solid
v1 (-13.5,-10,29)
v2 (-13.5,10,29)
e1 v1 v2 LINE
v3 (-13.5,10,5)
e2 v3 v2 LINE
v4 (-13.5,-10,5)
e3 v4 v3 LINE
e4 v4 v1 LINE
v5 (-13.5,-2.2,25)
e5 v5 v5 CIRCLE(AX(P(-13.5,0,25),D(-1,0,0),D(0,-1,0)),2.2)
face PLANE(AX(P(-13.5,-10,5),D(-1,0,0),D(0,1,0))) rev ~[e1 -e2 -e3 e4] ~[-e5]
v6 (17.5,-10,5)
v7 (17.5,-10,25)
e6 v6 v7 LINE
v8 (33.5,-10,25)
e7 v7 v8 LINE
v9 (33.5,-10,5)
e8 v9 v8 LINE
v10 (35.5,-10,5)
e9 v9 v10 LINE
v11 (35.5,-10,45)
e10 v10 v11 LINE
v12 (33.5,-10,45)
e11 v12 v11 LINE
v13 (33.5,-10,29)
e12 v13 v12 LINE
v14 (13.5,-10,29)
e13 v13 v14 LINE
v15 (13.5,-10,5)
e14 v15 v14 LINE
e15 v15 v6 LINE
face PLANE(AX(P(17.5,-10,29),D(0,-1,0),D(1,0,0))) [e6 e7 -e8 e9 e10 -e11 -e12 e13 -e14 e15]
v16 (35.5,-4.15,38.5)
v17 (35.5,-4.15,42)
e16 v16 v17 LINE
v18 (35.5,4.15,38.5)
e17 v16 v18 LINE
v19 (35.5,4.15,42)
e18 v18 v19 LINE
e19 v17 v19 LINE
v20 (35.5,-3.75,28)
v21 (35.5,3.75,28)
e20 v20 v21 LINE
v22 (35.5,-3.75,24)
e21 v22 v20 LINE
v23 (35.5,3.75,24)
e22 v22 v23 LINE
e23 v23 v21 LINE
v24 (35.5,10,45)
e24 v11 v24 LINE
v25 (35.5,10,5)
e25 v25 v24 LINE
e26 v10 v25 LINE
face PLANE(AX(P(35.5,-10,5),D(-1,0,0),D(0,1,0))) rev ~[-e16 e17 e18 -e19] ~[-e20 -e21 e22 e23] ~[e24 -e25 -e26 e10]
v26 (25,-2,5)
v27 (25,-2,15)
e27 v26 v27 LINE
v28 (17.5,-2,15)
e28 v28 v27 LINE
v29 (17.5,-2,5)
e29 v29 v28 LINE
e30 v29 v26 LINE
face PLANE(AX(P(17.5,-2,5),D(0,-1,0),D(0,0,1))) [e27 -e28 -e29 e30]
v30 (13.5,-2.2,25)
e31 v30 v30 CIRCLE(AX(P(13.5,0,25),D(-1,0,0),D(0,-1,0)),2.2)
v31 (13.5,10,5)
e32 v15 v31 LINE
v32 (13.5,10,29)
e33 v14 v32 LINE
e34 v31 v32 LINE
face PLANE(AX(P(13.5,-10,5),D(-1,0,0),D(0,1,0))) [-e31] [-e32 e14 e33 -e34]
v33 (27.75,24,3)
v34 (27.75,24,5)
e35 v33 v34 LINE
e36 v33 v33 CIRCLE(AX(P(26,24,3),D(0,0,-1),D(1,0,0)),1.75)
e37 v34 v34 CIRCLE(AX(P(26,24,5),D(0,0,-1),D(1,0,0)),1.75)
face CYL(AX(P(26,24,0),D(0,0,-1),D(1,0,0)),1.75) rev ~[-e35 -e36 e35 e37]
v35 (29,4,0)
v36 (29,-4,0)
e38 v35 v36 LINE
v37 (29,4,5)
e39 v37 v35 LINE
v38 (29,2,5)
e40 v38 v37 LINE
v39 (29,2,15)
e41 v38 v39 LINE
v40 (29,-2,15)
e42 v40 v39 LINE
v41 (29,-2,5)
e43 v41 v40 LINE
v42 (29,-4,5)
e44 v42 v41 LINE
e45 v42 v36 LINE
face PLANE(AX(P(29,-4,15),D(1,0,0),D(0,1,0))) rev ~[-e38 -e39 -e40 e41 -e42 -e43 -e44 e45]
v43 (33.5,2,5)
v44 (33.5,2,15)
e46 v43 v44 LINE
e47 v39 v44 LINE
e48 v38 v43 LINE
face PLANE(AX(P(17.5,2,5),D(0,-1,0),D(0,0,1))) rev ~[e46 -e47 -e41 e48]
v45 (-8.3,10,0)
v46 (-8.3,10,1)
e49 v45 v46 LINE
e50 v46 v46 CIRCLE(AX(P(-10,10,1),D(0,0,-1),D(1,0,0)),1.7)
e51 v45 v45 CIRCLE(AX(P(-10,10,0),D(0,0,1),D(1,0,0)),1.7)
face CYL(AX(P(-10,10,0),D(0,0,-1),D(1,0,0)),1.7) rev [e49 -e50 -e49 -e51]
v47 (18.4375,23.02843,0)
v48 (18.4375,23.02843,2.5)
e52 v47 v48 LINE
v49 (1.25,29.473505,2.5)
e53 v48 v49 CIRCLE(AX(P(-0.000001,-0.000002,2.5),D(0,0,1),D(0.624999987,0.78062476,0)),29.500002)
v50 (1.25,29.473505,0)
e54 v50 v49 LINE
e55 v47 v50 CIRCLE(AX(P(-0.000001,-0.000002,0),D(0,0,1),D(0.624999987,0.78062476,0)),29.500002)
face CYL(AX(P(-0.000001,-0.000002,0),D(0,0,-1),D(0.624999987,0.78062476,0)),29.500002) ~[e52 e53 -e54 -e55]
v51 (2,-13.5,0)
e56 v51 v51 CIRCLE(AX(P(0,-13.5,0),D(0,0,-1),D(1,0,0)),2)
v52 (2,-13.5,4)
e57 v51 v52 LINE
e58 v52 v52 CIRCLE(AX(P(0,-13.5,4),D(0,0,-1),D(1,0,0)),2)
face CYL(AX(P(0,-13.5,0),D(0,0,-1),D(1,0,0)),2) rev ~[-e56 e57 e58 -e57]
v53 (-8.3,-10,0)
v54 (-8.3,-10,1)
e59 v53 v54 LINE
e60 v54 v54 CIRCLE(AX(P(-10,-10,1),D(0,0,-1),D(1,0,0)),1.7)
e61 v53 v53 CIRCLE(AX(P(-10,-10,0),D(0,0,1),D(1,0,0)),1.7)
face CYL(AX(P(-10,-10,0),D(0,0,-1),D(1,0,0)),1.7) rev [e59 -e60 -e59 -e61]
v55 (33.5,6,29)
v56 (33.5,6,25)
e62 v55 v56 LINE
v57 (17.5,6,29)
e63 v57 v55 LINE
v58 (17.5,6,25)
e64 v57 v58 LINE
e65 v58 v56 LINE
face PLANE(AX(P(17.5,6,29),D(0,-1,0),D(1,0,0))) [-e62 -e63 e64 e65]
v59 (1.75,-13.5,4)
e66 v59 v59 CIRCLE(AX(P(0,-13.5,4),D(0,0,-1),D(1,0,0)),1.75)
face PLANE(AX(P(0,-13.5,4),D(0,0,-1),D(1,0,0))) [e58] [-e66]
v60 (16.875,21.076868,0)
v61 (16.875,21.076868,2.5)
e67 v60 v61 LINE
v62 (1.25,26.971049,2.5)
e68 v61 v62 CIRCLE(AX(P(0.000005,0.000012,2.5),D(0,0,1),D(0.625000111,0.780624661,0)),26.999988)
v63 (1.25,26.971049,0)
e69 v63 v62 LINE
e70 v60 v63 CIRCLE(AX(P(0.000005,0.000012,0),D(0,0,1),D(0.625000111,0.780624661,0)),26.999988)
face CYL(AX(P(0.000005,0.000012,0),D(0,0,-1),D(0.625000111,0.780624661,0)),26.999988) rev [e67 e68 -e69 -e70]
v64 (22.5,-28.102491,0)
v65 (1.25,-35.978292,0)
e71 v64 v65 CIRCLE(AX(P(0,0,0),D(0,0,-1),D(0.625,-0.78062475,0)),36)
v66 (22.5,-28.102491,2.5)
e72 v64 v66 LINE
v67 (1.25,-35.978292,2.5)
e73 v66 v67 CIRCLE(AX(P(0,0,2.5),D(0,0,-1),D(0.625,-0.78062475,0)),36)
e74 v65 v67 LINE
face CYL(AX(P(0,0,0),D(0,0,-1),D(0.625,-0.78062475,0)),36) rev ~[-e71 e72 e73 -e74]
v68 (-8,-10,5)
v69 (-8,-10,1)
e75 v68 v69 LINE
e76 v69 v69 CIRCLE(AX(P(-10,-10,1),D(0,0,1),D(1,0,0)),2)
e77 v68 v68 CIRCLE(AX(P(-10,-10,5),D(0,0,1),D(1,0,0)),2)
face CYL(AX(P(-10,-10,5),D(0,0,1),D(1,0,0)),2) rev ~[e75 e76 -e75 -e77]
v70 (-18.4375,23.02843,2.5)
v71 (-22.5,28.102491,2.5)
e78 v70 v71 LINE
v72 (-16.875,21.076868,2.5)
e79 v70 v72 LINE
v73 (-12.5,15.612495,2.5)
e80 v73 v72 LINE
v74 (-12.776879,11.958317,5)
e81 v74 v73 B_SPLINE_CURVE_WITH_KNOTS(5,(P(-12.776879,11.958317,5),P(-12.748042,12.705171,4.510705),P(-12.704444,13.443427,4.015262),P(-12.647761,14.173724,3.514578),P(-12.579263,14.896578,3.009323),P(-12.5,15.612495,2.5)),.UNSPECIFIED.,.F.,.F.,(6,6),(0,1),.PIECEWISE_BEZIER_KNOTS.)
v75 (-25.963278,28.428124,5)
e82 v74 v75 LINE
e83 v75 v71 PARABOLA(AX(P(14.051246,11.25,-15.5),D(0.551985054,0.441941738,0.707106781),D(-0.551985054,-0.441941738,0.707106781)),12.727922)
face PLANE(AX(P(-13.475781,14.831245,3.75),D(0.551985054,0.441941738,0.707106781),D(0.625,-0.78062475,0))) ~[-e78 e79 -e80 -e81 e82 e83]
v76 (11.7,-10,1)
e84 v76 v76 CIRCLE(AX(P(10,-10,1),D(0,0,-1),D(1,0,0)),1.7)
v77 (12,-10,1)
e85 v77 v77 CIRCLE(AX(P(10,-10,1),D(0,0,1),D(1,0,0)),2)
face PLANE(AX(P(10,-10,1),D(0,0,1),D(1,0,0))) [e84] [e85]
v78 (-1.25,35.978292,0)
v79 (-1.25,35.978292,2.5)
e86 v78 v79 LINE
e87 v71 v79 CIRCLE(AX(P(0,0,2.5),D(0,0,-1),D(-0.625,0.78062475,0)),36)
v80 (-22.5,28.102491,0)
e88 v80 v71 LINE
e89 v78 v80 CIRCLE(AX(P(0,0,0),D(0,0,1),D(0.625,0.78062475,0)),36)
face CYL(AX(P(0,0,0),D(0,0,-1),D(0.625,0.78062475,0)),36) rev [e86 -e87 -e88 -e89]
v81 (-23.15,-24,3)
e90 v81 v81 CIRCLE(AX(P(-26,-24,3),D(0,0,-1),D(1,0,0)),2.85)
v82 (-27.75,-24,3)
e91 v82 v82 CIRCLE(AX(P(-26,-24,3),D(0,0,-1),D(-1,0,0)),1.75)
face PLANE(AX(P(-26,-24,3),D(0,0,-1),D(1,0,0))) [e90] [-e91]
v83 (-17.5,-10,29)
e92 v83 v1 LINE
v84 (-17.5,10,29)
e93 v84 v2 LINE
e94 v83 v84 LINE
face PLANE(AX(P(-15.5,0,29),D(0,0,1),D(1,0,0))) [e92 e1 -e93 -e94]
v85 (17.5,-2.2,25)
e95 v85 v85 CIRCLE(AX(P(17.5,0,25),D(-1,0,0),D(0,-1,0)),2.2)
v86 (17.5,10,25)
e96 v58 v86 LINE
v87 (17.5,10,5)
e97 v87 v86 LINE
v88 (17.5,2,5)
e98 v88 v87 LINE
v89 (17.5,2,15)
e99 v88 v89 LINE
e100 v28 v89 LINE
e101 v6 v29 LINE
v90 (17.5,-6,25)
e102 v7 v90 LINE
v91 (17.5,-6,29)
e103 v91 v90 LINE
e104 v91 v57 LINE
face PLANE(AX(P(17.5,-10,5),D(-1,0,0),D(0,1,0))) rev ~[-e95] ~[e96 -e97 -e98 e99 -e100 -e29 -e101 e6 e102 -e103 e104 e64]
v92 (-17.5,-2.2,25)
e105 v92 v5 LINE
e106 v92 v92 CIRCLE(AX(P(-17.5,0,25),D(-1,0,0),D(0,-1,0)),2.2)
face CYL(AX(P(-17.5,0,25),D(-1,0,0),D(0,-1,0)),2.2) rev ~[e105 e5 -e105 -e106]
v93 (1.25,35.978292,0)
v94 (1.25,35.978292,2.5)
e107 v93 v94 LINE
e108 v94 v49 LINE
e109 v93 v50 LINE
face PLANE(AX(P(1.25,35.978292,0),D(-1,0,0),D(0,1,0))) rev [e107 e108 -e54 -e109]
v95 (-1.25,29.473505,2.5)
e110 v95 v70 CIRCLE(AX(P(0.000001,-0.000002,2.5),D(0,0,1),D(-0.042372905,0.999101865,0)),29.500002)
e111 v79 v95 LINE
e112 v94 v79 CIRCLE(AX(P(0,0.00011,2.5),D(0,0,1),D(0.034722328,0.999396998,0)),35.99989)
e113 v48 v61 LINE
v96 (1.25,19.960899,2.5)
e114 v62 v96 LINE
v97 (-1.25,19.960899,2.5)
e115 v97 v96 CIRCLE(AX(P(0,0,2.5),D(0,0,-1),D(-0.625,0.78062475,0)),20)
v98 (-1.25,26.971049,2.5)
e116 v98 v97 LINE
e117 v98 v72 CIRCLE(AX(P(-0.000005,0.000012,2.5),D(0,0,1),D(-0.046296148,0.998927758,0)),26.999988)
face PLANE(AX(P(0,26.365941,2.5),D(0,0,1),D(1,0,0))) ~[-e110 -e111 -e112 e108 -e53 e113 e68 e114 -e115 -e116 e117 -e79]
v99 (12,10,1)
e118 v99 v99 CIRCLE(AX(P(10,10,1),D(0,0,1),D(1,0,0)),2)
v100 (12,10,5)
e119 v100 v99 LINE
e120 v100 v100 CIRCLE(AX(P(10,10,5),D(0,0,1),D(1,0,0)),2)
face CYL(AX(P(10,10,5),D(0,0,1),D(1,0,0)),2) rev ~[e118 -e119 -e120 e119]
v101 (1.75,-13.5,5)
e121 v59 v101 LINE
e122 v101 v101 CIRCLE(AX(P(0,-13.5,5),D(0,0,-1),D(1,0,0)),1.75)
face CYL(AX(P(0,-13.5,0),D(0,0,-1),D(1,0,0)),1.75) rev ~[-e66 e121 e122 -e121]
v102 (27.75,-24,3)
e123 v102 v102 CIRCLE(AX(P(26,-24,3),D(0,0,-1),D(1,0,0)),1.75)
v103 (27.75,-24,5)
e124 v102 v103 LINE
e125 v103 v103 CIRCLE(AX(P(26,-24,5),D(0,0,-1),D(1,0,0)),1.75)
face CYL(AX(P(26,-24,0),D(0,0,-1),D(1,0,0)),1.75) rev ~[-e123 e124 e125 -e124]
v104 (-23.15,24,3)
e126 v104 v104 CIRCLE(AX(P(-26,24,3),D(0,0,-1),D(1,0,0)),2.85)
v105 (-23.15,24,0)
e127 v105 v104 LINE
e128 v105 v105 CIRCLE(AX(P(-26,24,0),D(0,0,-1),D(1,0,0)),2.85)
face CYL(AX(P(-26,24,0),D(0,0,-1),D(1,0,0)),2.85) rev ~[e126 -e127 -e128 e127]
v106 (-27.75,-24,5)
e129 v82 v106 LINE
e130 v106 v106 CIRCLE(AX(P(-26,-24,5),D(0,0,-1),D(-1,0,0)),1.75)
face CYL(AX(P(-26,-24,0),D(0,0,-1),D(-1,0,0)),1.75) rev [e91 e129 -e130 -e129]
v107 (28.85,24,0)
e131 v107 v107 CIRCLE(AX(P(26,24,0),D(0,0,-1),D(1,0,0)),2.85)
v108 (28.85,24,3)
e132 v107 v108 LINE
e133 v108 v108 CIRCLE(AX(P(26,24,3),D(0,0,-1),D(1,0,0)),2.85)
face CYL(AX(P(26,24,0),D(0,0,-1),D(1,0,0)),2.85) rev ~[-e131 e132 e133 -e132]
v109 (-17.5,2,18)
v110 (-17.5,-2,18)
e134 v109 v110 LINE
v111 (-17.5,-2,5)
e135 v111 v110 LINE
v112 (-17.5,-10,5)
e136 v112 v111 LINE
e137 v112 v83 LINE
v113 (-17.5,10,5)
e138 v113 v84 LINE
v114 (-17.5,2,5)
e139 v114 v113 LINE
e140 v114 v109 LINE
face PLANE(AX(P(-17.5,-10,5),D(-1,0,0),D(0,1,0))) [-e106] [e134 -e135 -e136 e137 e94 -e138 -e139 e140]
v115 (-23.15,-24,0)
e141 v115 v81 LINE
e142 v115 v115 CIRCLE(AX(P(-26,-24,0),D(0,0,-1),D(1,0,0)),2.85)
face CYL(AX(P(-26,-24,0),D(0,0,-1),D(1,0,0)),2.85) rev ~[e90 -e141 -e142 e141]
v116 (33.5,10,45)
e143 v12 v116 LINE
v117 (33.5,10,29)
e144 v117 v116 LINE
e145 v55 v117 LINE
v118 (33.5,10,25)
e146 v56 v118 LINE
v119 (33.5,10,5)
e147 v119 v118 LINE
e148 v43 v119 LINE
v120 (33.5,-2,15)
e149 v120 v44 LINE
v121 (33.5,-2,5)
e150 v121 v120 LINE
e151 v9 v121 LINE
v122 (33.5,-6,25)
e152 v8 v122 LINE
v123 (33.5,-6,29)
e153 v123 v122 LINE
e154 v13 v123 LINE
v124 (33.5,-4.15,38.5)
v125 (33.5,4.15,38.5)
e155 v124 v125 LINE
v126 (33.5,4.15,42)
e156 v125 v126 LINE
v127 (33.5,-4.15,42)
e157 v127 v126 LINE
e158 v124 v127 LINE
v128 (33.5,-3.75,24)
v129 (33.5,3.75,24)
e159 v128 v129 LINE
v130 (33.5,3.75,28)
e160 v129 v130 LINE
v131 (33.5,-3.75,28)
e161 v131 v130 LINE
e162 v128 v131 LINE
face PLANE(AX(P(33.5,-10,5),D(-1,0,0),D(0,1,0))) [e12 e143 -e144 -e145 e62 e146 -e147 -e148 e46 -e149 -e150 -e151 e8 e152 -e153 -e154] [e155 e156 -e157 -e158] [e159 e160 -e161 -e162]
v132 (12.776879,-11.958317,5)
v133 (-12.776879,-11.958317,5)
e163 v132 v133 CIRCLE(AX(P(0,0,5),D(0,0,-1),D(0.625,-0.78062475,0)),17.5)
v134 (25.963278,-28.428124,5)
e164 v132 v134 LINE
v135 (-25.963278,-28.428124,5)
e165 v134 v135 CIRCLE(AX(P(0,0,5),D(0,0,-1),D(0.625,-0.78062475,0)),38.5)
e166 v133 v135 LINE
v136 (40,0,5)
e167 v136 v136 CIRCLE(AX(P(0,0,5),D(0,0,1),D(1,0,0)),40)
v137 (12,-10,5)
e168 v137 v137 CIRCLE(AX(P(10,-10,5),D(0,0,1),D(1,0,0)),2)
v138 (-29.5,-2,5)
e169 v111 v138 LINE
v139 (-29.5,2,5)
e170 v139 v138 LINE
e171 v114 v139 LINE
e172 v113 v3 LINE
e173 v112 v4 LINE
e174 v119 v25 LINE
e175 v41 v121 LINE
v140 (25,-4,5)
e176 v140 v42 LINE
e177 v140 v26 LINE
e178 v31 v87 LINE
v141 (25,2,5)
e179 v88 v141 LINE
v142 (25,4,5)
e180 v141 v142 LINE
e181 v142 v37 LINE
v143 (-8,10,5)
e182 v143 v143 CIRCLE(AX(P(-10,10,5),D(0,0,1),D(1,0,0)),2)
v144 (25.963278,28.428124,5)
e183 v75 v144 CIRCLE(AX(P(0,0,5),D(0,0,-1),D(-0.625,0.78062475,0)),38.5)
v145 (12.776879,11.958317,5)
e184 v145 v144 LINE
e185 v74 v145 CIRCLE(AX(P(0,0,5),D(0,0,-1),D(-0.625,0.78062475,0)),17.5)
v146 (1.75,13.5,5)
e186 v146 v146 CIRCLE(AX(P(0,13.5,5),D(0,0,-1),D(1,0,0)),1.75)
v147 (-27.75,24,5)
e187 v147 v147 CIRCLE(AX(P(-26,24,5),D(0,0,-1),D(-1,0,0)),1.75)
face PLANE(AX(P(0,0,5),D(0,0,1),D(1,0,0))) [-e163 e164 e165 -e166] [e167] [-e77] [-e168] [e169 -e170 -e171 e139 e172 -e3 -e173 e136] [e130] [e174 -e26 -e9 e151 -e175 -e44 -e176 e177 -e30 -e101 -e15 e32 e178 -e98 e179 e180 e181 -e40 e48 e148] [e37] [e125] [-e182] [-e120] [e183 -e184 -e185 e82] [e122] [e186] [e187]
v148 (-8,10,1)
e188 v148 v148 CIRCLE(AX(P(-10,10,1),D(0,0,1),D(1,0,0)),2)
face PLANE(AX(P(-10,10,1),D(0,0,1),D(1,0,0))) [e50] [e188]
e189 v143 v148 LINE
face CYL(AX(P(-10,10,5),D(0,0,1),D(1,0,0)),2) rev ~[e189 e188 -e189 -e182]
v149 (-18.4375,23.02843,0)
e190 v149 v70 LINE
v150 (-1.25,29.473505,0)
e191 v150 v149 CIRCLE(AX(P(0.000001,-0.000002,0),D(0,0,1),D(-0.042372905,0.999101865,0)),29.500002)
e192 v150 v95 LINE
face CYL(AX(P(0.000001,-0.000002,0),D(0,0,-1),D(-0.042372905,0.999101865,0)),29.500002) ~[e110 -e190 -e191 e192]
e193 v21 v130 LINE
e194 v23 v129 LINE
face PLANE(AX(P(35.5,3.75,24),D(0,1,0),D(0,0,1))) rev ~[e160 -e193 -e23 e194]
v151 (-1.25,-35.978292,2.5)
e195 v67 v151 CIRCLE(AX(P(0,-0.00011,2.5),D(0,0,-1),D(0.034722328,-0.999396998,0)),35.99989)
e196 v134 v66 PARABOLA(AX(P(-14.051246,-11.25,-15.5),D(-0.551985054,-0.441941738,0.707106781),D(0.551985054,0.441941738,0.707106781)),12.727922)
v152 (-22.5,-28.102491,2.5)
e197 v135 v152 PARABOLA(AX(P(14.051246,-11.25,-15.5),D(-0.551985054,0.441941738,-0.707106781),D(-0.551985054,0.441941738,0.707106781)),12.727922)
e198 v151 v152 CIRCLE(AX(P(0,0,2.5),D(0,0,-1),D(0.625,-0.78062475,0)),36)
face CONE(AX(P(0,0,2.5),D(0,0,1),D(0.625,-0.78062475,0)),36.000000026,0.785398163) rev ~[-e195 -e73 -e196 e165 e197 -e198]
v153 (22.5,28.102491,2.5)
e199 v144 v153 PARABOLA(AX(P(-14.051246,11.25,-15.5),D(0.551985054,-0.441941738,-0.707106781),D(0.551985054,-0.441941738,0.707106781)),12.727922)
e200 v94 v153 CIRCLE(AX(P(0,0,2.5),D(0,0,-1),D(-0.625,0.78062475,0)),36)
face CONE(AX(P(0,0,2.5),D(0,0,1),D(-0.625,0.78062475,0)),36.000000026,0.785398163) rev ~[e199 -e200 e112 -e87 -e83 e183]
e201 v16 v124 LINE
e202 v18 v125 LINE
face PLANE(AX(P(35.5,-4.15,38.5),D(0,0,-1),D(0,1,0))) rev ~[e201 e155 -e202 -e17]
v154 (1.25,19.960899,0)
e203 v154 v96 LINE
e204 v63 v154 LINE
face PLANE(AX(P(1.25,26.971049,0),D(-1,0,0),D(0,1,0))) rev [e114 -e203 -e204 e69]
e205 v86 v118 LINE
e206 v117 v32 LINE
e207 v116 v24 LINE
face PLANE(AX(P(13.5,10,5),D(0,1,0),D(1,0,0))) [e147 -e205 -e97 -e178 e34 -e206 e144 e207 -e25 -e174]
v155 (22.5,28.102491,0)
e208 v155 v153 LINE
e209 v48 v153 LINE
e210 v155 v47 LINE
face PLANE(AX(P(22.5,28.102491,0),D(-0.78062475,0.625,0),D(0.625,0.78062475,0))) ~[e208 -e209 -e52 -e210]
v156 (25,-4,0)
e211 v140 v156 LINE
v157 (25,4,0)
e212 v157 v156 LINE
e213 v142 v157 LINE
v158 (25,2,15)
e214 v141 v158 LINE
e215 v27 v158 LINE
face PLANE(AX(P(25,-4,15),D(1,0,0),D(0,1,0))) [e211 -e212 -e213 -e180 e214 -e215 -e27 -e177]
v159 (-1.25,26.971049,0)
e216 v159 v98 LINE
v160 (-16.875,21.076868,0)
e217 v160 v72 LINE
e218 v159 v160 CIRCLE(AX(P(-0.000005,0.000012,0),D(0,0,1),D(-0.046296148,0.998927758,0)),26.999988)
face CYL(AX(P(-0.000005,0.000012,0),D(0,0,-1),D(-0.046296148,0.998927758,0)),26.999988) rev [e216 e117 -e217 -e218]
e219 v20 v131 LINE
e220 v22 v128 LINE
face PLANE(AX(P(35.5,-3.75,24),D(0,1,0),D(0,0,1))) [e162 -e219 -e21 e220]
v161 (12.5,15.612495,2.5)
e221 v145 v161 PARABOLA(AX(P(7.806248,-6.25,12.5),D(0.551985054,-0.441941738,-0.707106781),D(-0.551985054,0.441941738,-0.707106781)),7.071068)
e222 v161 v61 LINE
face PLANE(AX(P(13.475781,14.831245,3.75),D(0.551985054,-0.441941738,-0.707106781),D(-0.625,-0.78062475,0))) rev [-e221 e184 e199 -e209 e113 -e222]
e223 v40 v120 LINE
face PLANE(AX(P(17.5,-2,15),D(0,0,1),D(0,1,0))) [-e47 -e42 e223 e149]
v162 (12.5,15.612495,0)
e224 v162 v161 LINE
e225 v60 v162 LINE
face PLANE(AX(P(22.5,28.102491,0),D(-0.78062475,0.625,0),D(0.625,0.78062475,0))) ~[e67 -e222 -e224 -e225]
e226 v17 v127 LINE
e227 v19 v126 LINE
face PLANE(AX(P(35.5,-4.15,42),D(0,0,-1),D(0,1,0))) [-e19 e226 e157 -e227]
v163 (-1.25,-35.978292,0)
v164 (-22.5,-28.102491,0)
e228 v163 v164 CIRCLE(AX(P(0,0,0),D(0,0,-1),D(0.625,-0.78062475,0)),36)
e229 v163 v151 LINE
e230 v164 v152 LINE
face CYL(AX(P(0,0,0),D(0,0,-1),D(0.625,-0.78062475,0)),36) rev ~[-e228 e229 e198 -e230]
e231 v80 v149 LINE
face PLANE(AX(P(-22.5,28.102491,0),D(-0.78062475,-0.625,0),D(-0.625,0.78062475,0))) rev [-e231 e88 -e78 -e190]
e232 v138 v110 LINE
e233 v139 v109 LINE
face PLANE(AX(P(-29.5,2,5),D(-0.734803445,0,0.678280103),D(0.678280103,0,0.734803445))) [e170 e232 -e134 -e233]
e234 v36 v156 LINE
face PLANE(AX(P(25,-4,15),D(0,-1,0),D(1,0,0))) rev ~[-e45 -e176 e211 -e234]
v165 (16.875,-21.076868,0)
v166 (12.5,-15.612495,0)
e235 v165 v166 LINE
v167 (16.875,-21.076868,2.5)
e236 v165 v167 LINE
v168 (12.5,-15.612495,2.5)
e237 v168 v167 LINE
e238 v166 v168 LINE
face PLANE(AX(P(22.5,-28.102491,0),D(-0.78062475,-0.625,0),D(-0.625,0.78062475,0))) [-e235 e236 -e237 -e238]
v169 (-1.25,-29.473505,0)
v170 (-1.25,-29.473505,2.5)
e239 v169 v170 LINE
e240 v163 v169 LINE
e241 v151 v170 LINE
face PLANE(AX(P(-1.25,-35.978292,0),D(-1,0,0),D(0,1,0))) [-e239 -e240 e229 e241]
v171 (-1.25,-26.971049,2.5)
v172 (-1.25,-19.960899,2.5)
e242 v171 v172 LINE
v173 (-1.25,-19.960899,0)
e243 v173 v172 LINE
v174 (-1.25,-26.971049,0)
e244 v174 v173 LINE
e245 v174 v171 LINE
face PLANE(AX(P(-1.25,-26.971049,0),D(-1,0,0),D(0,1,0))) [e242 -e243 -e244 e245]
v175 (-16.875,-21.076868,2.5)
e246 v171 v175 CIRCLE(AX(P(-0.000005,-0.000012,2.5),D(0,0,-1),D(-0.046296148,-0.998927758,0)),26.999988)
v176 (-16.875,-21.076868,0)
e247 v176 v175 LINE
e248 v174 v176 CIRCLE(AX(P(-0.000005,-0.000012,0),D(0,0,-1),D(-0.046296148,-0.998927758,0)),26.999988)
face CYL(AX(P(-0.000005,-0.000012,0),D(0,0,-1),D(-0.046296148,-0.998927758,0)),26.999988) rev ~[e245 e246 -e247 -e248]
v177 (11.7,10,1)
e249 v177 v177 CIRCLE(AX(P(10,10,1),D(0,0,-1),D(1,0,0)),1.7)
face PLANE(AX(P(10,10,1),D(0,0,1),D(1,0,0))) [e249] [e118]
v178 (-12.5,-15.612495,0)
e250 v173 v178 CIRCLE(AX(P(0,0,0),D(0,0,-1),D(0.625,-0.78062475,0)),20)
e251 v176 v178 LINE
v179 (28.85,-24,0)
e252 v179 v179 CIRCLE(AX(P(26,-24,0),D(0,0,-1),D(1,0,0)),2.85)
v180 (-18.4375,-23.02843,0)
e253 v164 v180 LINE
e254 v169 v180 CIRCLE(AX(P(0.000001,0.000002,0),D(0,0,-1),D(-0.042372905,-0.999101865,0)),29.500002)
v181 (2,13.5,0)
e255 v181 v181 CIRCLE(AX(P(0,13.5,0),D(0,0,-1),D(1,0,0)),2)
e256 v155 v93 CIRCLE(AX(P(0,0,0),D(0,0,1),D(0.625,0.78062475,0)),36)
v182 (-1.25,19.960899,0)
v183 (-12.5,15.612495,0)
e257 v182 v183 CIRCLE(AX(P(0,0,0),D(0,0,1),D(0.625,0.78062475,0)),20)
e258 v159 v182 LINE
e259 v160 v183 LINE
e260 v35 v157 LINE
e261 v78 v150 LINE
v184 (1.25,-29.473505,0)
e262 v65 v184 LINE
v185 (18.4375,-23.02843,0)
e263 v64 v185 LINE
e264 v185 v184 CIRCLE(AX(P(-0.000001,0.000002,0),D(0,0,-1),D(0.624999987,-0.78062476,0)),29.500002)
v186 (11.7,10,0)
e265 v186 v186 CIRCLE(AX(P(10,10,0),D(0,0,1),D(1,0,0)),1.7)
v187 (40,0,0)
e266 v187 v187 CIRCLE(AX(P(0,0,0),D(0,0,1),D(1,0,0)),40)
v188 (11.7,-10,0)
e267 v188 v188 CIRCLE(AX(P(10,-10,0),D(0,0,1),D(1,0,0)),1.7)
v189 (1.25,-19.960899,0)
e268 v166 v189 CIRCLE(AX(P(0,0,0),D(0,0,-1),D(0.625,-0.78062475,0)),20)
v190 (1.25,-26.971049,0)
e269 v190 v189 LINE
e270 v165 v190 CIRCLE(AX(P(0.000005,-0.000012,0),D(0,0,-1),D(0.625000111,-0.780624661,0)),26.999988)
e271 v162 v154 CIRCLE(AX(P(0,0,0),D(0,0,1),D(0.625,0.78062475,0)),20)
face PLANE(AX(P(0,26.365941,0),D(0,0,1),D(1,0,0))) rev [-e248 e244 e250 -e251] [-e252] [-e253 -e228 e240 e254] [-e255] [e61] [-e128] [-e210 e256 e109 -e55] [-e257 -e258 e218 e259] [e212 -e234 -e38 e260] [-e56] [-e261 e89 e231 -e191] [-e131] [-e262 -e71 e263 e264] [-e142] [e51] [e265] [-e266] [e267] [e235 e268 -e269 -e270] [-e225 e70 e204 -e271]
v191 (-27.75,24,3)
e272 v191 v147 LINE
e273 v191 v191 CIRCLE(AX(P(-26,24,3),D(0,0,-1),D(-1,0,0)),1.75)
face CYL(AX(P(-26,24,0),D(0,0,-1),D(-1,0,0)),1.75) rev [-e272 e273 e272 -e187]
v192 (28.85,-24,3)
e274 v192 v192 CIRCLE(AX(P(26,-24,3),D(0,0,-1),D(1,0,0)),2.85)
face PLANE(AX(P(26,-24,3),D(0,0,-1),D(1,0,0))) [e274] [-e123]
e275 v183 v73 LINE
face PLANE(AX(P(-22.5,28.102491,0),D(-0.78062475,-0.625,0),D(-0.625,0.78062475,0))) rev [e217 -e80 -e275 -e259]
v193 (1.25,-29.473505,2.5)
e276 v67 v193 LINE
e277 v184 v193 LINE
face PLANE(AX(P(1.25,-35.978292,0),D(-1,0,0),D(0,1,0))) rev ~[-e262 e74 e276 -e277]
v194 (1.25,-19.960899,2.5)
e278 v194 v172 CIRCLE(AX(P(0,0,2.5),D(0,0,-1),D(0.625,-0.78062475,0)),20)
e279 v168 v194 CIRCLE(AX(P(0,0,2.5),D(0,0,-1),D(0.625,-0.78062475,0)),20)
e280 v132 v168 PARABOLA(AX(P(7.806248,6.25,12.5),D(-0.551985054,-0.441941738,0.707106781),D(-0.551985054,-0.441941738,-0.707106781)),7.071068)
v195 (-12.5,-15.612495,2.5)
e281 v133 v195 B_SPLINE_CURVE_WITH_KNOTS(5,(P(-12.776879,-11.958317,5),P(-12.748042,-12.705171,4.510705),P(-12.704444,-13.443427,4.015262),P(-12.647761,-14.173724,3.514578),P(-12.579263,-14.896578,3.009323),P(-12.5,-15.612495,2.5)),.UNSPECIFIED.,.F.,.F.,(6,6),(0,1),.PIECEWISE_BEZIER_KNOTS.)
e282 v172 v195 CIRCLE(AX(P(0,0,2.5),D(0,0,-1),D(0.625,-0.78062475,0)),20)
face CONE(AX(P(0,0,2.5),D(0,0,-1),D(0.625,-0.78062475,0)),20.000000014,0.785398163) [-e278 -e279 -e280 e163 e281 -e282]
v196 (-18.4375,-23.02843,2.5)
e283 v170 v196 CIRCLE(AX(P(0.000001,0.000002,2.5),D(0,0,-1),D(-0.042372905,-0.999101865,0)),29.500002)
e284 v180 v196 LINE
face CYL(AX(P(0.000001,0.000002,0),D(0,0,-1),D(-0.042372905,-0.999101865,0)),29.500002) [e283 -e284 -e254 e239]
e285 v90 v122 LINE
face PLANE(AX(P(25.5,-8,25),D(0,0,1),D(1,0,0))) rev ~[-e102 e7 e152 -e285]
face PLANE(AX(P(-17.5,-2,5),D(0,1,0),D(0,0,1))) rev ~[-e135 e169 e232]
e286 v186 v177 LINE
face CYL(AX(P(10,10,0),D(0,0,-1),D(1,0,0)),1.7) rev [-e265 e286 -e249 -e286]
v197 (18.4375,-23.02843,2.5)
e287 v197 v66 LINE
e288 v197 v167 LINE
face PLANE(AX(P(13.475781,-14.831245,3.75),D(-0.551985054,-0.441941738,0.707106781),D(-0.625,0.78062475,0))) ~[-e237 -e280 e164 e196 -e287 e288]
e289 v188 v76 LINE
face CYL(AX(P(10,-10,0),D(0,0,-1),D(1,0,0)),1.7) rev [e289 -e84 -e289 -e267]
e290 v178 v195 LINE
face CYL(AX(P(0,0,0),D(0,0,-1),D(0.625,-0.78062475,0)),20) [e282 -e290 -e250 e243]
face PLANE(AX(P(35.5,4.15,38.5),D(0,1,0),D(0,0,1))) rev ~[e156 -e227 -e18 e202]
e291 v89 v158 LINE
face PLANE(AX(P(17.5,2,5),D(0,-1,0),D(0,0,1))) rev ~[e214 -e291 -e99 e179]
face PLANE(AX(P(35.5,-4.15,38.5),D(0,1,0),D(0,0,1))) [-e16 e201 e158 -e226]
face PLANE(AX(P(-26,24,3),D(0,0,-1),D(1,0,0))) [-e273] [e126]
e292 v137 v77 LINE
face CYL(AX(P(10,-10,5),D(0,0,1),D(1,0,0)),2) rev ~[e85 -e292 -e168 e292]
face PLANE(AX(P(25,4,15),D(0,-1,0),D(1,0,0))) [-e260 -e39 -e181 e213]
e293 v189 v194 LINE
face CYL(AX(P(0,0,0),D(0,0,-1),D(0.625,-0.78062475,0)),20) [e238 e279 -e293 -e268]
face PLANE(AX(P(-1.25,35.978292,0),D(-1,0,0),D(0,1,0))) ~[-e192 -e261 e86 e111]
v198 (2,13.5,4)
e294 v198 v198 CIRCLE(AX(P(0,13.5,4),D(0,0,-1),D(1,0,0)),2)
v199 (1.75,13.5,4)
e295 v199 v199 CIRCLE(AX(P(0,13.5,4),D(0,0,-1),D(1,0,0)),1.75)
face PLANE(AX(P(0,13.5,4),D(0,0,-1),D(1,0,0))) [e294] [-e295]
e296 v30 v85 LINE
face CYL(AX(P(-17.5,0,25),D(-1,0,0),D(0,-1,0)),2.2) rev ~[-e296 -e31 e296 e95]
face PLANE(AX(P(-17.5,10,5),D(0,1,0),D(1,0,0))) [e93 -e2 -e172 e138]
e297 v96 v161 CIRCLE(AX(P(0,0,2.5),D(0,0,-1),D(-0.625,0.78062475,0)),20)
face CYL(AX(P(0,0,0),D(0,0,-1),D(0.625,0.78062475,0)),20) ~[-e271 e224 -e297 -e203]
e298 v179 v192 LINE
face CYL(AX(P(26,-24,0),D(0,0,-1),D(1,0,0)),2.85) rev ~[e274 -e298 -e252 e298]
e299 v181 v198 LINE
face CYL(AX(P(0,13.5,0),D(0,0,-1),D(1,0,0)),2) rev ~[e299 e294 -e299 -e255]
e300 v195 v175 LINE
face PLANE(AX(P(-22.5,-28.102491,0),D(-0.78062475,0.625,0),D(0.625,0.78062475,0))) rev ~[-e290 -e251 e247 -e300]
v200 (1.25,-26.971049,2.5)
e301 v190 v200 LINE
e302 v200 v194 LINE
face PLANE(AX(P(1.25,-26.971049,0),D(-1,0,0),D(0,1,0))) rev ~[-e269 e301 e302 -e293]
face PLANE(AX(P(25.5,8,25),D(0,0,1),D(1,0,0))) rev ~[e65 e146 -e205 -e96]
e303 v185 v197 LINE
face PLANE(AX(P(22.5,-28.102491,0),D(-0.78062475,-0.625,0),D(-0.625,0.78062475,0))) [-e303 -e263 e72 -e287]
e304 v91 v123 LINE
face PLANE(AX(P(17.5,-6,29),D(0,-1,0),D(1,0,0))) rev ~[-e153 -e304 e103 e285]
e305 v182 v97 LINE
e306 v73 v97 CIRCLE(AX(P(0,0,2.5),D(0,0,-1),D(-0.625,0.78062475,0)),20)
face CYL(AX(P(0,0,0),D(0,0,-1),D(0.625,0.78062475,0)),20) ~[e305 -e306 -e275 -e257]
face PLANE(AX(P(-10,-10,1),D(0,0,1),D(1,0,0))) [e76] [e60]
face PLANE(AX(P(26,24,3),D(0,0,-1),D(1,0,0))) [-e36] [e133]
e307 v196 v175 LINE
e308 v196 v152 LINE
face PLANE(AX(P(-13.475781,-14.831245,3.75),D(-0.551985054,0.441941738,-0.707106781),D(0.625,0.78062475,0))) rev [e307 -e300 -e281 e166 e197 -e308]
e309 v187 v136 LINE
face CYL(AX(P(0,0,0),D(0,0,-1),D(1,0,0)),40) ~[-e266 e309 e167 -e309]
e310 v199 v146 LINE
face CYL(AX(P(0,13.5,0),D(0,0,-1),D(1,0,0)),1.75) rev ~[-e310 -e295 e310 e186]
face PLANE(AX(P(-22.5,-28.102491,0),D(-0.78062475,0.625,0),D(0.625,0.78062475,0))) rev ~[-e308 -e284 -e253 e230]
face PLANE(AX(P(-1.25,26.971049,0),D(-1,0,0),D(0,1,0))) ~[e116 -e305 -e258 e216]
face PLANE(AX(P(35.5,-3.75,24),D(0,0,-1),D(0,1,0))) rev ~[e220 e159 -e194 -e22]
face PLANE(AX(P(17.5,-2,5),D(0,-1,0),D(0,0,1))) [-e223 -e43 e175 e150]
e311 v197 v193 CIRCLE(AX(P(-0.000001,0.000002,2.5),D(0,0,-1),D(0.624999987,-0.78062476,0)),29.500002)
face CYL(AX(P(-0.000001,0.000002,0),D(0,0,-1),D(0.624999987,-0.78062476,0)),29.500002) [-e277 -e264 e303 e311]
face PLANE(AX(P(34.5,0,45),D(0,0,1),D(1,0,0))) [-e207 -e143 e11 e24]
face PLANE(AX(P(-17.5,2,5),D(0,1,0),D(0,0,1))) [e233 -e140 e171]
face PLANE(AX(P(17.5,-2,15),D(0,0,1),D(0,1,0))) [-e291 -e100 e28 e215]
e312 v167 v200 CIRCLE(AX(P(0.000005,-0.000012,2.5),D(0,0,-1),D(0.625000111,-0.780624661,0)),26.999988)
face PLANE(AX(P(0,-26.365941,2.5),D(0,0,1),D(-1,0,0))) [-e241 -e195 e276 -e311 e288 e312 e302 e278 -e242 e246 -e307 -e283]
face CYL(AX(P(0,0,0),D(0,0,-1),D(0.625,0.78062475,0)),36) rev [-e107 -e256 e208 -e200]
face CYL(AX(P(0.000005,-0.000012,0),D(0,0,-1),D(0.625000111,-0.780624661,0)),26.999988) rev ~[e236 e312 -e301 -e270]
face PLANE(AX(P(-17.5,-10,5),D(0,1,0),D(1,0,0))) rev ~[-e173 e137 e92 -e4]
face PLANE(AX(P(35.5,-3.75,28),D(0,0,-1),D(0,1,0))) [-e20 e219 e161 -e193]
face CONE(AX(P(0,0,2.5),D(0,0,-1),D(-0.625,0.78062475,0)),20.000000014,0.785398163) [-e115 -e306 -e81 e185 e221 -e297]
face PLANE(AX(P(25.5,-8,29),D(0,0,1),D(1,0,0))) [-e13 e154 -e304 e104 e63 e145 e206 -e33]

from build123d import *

# Parameters (mm, degrees)
SKETCH_R        = 40
SKETCH_R_2      = 1.7
PAD_DEPTH       = 5
POCKET_DEPTH    = 231.496033
CHAMFER_SIZE    = 2.5
SKETCH002_W     = 4
SKETCH002_H     = 20
PAD001_DEPTH    = 24
SKETCH003_R     = 2.2
POCKET001_DEPTH = 57.501
SKETCH004_R     = 1.75
POCKET002_DEPTH = 29.001
SKETCH005_R     = 2
POCKET003_DEPTH = 4
SKETCH006_R     = 2
POCKET004_DEPTH = 4
PAD002_DEPTH    = 2.5
SKETCH008_R     = 1.75
POCKET005_DEPTH = 262.590383
SKETCH009_R     = 2.85
POCKET006_DEPTH = 3
SKETCH015_W     = 4
SKETCH015_H     = 13
PAD003_DEPTH    = 12
POCKET007_DEPTH = 4
SKETCH017_W     = 2
SKETCH017_H     = 20
PAD004_DEPTH    = 40
SKETCH018_W     = 4
SKETCH018_H     = 10
PAD005_DEPTH    = 16
SKETCH019_W     = 16
SKETCH019_H     = 4
PAD006_DEPTH    = 4
SKETCH020_W     = 8.3
SKETCH020_H     = 3.5
SKETCH020_W_2   = 7.5
SKETCH020_H_2   = 4
POCKET008_DEPTH = 2
SKETCH021_W     = 4
SKETCH021_H     = 8
POCKET009_DEPTH = 15.001


with BuildPart() as part:
    # Sketch → Pad (new body)
    with BuildSketch(Plane.XY):
        Circle(SKETCH_R)
        with Locations((10, 10)):
            Circle(SKETCH_R_2, mode=Mode.SUBTRACT)
        with Locations((-10, 10)):
            Circle(SKETCH_R_2, mode=Mode.SUBTRACT)
        with Locations((-10, -10)):
            Circle(SKETCH_R_2, mode=Mode.SUBTRACT)
        with Locations((10, -10)):
            Circle(SKETCH_R_2, mode=Mode.SUBTRACT)
    extrude(amount=PAD_DEPTH)

    # Sketch001 → Pocket (cut, through all)
    with BuildSketch(Plane(origin=(0, 0, 0), x_dir=(1, 0, 0), z_dir=(0, 0, -1))):
        with BuildLine():
            ThreePointArc((22.5, 28.102491), (0, 36), (-22.5, 28.102491))
            Line((-22.5, 28.102491), (-12.5, 15.612495))
            ThreePointArc((12.5, 15.612495), (0, 20), (-12.5, 15.612495))
            Line((22.5, 28.102491), (12.5, 15.612495))
        make_face()
    pocket = extrude(amount=-POCKET_DEPTH, mode=Mode.SUBTRACT)

    # Mirrored: Pocket across Sketch001 H_Axis
    add(pocket.mirror(Plane(origin=(0, 0, 0), x_dir=(0, 0, -1), z_dir=(0, -1, 0))), mode=Mode.SUBTRACT)

    # Chamfer
    chamfer_edges = [part.edges().sort_by_distance(p)[0] for p in [
        (0, 20, 5),
        (17.5, 21.857493, 5),
        (0, 36, 5),
        (-17.5, 21.857493, 5),
        (-17.5, -21.857493, 5),
        (17.5, -21.857493, 5),
        (0, -20, 5),
        (0, -36, 5),
    ]]
    chamfer(chamfer_edges, length=CHAMFER_SIZE)

    # Sketch002 → Pad001 (new body)
    with BuildSketch(Plane.XY.offset(5)):
        with Locations((15.5, 0)):
            Rectangle(SKETCH002_W, SKETCH002_H)
        with Locations((-15.5, 0)):
            Rectangle(SKETCH002_W, SKETCH002_H)
    extrude(amount=PAD001_DEPTH)

    # Sketch003 → Pocket001 (cut, through all)
    with BuildSketch(Plane(origin=(-17.5, 0, 0), x_dir=(0, -1, 0), z_dir=(-1, 0, 0))):
        with Locations((0, 25)):
            Circle(SKETCH003_R)
    extrude(amount=-POCKET001_DEPTH, mode=Mode.SUBTRACT)

    # Sketch004 → Pocket002 (cut, through all)
    with BuildSketch(Plane(origin=(0, 0, 0), x_dir=(1, 0, 0), z_dir=(0, 0, -1))):
        with Locations((0, 13.5)):
            Circle(SKETCH004_R)
        with Locations((0, -13.5)):
            Circle(SKETCH004_R)
    extrude(amount=-POCKET002_DEPTH, mode=Mode.SUBTRACT)

    # Sketch005 → Pocket003 (cut)
    with BuildSketch(Plane.XY.offset(5)):
        with Locations((-10, 10)):
            Circle(SKETCH005_R)
        with Locations((10, 10)):
            Circle(SKETCH005_R)
        with Locations((10, -10)):
            Circle(SKETCH005_R)
        with Locations((-10, -10)):
            Circle(SKETCH005_R)
    extrude(amount=-POCKET003_DEPTH, mode=Mode.SUBTRACT)

    # Sketch006 → Pocket004 (cut)
    with BuildSketch(Plane(origin=(0, 0, 0), x_dir=(1, 0, 0), z_dir=(0, 0, -1))):
        with Locations((0, 13.5)):
            Circle(SKETCH006_R)
        with Locations((0, -13.5)):
            Circle(SKETCH006_R)
    extrude(amount=-POCKET004_DEPTH, mode=Mode.SUBTRACT)

    # Sketch007 → Pad002 (new body)
    with BuildSketch(Plane(origin=(0, 0, 0), x_dir=(1, 0, 0), z_dir=(0, 0, -1))):
        with BuildLine():
            ThreePointArc((16.875, 21.076868), (9.529651, 25.262339), (1.25, 26.971049))
            Line((1.25, 26.971049), (1.25, 19.960899))
            Line((-1.25, 19.960899), (1.25, 19.960899))
            Line((-1.25, 26.971049), (-1.25, 19.960899))
            ThreePointArc((-1.25, 26.971049), (-9.529651, 25.262339), (-16.875, 21.076868))
            Line((-18.4375, 23.02843), (-16.875, 21.076868))
            ThreePointArc((-1.25, 29.473505), (-10.357807, 27.621836), (-18.4375, 23.02843))
            Line((-1.25, 35.978292), (-1.25, 29.473505))
            ThreePointArc((1.25, 35.978292), (0, 36), (-1.25, 35.978292))
            Line((1.25, 35.978292), (1.25, 29.473505))
            ThreePointArc((18.4375, 23.02843), (10.357807, 27.621836), (1.25, 29.473505))
            Line((18.4375, 23.02843), (16.875, 21.076868))
        make_face()
    pad002 = extrude(amount=-PAD002_DEPTH)

    # Mirrored001: Pad002 across Sketch007 H_Axis
    add(pad002.mirror(Plane(origin=(0, 0, 0), x_dir=(0, 0, -1), z_dir=(0, -1, 0))))

    # Sketch008 → Pocket005 (cut, through all)
    with BuildSketch(Plane(origin=(0, 0, 0), x_dir=(1, 0, 0), z_dir=(0, 0, -1))):
        with Locations((26, 24)):
            Circle(SKETCH008_R)
        with Locations((26, -24)):
            Circle(SKETCH008_R)
    pocket005 = extrude(amount=-POCKET005_DEPTH, mode=Mode.SUBTRACT)

    # Mirrored002: Pocket005 across Sketch008 V_Axis
    add(pocket005.mirror(Plane(origin=(0, 0, 0), x_dir=(0, 0, -1), z_dir=(1, 0, 0))), mode=Mode.SUBTRACT)

    # Sketch009 → Pocket006 (cut)
    with BuildSketch(Plane(origin=(0, 0, 0), x_dir=(1, 0, 0), z_dir=(0, 0, -1))):
        with Locations((-26, 24)):
            Circle(SKETCH009_R)
        with Locations((-26, -24)):
            Circle(SKETCH009_R)
        with Locations((26, -24)):
            Circle(SKETCH009_R)
        with Locations((26, 24)):
            Circle(SKETCH009_R)
    extrude(amount=-POCKET006_DEPTH, mode=Mode.SUBTRACT)

    # Sketch015 → Pad003 (new body)
    with BuildSketch(Plane(origin=(-17.5, 0, 0), x_dir=(0, -1, 0), z_dir=(-1, 0, 0))):
        with Locations((0, 11.5)):
            Rectangle(SKETCH015_W, SKETCH015_H)
    extrude(amount=PAD003_DEPTH)

    # Sketch016 → Pocket007 (cut)
    with BuildSketch(Plane(origin=(0, 2, 0), x_dir=(-1, 0, 0), z_dir=(0, 1, 0))):
        Polygon((17.5, 18), (29.5, 18), (29.5, 5), align=None)
    extrude(amount=-POCKET007_DEPTH, mode=Mode.SUBTRACT)

    # Sketch017 → Pad004 (new body)
    with BuildSketch(Plane.XY.offset(5)):
        with Locations((34.5, 0)):
            Rectangle(SKETCH017_W, SKETCH017_H)
    extrude(amount=PAD004_DEPTH)

    # Sketch018 → Pad005 (new body)
    with BuildSketch(Plane.YZ.offset(17.5)):
        with Locations((0, 10)):
            Rectangle(SKETCH018_W, SKETCH018_H)
    extrude(amount=PAD005_DEPTH)

    # Sketch019 → Pad006 (new body)
    with BuildSketch(Plane.XY.offset(29)):
        with Locations((25.5, -8)):
            Rectangle(SKETCH019_W, SKETCH019_H)
        with Locations((25.5, 8)):
            Rectangle(SKETCH019_W, SKETCH019_H)
    extrude(amount=-PAD006_DEPTH)

    # Sketch020 → Pocket008 (cut)
    with BuildSketch(Plane.YZ.offset(35.5)):
        with Locations((0, 40.25)):
            Rectangle(SKETCH020_W, SKETCH020_H)
        with Locations((0, 26)):
            Rectangle(SKETCH020_W_2, SKETCH020_H_2)
    extrude(amount=-POCKET008_DEPTH, mode=Mode.SUBTRACT)

    # Sketch021 → Pocket009 (cut, through all)
    with BuildSketch(Plane.XY.offset(15)):
        with Locations((27, 0)):
            Rectangle(SKETCH021_W, SKETCH021_H)
    extrude(amount=-POCKET009_DEPTH, mode=Mode.SUBTRACT)


solid = part.part
